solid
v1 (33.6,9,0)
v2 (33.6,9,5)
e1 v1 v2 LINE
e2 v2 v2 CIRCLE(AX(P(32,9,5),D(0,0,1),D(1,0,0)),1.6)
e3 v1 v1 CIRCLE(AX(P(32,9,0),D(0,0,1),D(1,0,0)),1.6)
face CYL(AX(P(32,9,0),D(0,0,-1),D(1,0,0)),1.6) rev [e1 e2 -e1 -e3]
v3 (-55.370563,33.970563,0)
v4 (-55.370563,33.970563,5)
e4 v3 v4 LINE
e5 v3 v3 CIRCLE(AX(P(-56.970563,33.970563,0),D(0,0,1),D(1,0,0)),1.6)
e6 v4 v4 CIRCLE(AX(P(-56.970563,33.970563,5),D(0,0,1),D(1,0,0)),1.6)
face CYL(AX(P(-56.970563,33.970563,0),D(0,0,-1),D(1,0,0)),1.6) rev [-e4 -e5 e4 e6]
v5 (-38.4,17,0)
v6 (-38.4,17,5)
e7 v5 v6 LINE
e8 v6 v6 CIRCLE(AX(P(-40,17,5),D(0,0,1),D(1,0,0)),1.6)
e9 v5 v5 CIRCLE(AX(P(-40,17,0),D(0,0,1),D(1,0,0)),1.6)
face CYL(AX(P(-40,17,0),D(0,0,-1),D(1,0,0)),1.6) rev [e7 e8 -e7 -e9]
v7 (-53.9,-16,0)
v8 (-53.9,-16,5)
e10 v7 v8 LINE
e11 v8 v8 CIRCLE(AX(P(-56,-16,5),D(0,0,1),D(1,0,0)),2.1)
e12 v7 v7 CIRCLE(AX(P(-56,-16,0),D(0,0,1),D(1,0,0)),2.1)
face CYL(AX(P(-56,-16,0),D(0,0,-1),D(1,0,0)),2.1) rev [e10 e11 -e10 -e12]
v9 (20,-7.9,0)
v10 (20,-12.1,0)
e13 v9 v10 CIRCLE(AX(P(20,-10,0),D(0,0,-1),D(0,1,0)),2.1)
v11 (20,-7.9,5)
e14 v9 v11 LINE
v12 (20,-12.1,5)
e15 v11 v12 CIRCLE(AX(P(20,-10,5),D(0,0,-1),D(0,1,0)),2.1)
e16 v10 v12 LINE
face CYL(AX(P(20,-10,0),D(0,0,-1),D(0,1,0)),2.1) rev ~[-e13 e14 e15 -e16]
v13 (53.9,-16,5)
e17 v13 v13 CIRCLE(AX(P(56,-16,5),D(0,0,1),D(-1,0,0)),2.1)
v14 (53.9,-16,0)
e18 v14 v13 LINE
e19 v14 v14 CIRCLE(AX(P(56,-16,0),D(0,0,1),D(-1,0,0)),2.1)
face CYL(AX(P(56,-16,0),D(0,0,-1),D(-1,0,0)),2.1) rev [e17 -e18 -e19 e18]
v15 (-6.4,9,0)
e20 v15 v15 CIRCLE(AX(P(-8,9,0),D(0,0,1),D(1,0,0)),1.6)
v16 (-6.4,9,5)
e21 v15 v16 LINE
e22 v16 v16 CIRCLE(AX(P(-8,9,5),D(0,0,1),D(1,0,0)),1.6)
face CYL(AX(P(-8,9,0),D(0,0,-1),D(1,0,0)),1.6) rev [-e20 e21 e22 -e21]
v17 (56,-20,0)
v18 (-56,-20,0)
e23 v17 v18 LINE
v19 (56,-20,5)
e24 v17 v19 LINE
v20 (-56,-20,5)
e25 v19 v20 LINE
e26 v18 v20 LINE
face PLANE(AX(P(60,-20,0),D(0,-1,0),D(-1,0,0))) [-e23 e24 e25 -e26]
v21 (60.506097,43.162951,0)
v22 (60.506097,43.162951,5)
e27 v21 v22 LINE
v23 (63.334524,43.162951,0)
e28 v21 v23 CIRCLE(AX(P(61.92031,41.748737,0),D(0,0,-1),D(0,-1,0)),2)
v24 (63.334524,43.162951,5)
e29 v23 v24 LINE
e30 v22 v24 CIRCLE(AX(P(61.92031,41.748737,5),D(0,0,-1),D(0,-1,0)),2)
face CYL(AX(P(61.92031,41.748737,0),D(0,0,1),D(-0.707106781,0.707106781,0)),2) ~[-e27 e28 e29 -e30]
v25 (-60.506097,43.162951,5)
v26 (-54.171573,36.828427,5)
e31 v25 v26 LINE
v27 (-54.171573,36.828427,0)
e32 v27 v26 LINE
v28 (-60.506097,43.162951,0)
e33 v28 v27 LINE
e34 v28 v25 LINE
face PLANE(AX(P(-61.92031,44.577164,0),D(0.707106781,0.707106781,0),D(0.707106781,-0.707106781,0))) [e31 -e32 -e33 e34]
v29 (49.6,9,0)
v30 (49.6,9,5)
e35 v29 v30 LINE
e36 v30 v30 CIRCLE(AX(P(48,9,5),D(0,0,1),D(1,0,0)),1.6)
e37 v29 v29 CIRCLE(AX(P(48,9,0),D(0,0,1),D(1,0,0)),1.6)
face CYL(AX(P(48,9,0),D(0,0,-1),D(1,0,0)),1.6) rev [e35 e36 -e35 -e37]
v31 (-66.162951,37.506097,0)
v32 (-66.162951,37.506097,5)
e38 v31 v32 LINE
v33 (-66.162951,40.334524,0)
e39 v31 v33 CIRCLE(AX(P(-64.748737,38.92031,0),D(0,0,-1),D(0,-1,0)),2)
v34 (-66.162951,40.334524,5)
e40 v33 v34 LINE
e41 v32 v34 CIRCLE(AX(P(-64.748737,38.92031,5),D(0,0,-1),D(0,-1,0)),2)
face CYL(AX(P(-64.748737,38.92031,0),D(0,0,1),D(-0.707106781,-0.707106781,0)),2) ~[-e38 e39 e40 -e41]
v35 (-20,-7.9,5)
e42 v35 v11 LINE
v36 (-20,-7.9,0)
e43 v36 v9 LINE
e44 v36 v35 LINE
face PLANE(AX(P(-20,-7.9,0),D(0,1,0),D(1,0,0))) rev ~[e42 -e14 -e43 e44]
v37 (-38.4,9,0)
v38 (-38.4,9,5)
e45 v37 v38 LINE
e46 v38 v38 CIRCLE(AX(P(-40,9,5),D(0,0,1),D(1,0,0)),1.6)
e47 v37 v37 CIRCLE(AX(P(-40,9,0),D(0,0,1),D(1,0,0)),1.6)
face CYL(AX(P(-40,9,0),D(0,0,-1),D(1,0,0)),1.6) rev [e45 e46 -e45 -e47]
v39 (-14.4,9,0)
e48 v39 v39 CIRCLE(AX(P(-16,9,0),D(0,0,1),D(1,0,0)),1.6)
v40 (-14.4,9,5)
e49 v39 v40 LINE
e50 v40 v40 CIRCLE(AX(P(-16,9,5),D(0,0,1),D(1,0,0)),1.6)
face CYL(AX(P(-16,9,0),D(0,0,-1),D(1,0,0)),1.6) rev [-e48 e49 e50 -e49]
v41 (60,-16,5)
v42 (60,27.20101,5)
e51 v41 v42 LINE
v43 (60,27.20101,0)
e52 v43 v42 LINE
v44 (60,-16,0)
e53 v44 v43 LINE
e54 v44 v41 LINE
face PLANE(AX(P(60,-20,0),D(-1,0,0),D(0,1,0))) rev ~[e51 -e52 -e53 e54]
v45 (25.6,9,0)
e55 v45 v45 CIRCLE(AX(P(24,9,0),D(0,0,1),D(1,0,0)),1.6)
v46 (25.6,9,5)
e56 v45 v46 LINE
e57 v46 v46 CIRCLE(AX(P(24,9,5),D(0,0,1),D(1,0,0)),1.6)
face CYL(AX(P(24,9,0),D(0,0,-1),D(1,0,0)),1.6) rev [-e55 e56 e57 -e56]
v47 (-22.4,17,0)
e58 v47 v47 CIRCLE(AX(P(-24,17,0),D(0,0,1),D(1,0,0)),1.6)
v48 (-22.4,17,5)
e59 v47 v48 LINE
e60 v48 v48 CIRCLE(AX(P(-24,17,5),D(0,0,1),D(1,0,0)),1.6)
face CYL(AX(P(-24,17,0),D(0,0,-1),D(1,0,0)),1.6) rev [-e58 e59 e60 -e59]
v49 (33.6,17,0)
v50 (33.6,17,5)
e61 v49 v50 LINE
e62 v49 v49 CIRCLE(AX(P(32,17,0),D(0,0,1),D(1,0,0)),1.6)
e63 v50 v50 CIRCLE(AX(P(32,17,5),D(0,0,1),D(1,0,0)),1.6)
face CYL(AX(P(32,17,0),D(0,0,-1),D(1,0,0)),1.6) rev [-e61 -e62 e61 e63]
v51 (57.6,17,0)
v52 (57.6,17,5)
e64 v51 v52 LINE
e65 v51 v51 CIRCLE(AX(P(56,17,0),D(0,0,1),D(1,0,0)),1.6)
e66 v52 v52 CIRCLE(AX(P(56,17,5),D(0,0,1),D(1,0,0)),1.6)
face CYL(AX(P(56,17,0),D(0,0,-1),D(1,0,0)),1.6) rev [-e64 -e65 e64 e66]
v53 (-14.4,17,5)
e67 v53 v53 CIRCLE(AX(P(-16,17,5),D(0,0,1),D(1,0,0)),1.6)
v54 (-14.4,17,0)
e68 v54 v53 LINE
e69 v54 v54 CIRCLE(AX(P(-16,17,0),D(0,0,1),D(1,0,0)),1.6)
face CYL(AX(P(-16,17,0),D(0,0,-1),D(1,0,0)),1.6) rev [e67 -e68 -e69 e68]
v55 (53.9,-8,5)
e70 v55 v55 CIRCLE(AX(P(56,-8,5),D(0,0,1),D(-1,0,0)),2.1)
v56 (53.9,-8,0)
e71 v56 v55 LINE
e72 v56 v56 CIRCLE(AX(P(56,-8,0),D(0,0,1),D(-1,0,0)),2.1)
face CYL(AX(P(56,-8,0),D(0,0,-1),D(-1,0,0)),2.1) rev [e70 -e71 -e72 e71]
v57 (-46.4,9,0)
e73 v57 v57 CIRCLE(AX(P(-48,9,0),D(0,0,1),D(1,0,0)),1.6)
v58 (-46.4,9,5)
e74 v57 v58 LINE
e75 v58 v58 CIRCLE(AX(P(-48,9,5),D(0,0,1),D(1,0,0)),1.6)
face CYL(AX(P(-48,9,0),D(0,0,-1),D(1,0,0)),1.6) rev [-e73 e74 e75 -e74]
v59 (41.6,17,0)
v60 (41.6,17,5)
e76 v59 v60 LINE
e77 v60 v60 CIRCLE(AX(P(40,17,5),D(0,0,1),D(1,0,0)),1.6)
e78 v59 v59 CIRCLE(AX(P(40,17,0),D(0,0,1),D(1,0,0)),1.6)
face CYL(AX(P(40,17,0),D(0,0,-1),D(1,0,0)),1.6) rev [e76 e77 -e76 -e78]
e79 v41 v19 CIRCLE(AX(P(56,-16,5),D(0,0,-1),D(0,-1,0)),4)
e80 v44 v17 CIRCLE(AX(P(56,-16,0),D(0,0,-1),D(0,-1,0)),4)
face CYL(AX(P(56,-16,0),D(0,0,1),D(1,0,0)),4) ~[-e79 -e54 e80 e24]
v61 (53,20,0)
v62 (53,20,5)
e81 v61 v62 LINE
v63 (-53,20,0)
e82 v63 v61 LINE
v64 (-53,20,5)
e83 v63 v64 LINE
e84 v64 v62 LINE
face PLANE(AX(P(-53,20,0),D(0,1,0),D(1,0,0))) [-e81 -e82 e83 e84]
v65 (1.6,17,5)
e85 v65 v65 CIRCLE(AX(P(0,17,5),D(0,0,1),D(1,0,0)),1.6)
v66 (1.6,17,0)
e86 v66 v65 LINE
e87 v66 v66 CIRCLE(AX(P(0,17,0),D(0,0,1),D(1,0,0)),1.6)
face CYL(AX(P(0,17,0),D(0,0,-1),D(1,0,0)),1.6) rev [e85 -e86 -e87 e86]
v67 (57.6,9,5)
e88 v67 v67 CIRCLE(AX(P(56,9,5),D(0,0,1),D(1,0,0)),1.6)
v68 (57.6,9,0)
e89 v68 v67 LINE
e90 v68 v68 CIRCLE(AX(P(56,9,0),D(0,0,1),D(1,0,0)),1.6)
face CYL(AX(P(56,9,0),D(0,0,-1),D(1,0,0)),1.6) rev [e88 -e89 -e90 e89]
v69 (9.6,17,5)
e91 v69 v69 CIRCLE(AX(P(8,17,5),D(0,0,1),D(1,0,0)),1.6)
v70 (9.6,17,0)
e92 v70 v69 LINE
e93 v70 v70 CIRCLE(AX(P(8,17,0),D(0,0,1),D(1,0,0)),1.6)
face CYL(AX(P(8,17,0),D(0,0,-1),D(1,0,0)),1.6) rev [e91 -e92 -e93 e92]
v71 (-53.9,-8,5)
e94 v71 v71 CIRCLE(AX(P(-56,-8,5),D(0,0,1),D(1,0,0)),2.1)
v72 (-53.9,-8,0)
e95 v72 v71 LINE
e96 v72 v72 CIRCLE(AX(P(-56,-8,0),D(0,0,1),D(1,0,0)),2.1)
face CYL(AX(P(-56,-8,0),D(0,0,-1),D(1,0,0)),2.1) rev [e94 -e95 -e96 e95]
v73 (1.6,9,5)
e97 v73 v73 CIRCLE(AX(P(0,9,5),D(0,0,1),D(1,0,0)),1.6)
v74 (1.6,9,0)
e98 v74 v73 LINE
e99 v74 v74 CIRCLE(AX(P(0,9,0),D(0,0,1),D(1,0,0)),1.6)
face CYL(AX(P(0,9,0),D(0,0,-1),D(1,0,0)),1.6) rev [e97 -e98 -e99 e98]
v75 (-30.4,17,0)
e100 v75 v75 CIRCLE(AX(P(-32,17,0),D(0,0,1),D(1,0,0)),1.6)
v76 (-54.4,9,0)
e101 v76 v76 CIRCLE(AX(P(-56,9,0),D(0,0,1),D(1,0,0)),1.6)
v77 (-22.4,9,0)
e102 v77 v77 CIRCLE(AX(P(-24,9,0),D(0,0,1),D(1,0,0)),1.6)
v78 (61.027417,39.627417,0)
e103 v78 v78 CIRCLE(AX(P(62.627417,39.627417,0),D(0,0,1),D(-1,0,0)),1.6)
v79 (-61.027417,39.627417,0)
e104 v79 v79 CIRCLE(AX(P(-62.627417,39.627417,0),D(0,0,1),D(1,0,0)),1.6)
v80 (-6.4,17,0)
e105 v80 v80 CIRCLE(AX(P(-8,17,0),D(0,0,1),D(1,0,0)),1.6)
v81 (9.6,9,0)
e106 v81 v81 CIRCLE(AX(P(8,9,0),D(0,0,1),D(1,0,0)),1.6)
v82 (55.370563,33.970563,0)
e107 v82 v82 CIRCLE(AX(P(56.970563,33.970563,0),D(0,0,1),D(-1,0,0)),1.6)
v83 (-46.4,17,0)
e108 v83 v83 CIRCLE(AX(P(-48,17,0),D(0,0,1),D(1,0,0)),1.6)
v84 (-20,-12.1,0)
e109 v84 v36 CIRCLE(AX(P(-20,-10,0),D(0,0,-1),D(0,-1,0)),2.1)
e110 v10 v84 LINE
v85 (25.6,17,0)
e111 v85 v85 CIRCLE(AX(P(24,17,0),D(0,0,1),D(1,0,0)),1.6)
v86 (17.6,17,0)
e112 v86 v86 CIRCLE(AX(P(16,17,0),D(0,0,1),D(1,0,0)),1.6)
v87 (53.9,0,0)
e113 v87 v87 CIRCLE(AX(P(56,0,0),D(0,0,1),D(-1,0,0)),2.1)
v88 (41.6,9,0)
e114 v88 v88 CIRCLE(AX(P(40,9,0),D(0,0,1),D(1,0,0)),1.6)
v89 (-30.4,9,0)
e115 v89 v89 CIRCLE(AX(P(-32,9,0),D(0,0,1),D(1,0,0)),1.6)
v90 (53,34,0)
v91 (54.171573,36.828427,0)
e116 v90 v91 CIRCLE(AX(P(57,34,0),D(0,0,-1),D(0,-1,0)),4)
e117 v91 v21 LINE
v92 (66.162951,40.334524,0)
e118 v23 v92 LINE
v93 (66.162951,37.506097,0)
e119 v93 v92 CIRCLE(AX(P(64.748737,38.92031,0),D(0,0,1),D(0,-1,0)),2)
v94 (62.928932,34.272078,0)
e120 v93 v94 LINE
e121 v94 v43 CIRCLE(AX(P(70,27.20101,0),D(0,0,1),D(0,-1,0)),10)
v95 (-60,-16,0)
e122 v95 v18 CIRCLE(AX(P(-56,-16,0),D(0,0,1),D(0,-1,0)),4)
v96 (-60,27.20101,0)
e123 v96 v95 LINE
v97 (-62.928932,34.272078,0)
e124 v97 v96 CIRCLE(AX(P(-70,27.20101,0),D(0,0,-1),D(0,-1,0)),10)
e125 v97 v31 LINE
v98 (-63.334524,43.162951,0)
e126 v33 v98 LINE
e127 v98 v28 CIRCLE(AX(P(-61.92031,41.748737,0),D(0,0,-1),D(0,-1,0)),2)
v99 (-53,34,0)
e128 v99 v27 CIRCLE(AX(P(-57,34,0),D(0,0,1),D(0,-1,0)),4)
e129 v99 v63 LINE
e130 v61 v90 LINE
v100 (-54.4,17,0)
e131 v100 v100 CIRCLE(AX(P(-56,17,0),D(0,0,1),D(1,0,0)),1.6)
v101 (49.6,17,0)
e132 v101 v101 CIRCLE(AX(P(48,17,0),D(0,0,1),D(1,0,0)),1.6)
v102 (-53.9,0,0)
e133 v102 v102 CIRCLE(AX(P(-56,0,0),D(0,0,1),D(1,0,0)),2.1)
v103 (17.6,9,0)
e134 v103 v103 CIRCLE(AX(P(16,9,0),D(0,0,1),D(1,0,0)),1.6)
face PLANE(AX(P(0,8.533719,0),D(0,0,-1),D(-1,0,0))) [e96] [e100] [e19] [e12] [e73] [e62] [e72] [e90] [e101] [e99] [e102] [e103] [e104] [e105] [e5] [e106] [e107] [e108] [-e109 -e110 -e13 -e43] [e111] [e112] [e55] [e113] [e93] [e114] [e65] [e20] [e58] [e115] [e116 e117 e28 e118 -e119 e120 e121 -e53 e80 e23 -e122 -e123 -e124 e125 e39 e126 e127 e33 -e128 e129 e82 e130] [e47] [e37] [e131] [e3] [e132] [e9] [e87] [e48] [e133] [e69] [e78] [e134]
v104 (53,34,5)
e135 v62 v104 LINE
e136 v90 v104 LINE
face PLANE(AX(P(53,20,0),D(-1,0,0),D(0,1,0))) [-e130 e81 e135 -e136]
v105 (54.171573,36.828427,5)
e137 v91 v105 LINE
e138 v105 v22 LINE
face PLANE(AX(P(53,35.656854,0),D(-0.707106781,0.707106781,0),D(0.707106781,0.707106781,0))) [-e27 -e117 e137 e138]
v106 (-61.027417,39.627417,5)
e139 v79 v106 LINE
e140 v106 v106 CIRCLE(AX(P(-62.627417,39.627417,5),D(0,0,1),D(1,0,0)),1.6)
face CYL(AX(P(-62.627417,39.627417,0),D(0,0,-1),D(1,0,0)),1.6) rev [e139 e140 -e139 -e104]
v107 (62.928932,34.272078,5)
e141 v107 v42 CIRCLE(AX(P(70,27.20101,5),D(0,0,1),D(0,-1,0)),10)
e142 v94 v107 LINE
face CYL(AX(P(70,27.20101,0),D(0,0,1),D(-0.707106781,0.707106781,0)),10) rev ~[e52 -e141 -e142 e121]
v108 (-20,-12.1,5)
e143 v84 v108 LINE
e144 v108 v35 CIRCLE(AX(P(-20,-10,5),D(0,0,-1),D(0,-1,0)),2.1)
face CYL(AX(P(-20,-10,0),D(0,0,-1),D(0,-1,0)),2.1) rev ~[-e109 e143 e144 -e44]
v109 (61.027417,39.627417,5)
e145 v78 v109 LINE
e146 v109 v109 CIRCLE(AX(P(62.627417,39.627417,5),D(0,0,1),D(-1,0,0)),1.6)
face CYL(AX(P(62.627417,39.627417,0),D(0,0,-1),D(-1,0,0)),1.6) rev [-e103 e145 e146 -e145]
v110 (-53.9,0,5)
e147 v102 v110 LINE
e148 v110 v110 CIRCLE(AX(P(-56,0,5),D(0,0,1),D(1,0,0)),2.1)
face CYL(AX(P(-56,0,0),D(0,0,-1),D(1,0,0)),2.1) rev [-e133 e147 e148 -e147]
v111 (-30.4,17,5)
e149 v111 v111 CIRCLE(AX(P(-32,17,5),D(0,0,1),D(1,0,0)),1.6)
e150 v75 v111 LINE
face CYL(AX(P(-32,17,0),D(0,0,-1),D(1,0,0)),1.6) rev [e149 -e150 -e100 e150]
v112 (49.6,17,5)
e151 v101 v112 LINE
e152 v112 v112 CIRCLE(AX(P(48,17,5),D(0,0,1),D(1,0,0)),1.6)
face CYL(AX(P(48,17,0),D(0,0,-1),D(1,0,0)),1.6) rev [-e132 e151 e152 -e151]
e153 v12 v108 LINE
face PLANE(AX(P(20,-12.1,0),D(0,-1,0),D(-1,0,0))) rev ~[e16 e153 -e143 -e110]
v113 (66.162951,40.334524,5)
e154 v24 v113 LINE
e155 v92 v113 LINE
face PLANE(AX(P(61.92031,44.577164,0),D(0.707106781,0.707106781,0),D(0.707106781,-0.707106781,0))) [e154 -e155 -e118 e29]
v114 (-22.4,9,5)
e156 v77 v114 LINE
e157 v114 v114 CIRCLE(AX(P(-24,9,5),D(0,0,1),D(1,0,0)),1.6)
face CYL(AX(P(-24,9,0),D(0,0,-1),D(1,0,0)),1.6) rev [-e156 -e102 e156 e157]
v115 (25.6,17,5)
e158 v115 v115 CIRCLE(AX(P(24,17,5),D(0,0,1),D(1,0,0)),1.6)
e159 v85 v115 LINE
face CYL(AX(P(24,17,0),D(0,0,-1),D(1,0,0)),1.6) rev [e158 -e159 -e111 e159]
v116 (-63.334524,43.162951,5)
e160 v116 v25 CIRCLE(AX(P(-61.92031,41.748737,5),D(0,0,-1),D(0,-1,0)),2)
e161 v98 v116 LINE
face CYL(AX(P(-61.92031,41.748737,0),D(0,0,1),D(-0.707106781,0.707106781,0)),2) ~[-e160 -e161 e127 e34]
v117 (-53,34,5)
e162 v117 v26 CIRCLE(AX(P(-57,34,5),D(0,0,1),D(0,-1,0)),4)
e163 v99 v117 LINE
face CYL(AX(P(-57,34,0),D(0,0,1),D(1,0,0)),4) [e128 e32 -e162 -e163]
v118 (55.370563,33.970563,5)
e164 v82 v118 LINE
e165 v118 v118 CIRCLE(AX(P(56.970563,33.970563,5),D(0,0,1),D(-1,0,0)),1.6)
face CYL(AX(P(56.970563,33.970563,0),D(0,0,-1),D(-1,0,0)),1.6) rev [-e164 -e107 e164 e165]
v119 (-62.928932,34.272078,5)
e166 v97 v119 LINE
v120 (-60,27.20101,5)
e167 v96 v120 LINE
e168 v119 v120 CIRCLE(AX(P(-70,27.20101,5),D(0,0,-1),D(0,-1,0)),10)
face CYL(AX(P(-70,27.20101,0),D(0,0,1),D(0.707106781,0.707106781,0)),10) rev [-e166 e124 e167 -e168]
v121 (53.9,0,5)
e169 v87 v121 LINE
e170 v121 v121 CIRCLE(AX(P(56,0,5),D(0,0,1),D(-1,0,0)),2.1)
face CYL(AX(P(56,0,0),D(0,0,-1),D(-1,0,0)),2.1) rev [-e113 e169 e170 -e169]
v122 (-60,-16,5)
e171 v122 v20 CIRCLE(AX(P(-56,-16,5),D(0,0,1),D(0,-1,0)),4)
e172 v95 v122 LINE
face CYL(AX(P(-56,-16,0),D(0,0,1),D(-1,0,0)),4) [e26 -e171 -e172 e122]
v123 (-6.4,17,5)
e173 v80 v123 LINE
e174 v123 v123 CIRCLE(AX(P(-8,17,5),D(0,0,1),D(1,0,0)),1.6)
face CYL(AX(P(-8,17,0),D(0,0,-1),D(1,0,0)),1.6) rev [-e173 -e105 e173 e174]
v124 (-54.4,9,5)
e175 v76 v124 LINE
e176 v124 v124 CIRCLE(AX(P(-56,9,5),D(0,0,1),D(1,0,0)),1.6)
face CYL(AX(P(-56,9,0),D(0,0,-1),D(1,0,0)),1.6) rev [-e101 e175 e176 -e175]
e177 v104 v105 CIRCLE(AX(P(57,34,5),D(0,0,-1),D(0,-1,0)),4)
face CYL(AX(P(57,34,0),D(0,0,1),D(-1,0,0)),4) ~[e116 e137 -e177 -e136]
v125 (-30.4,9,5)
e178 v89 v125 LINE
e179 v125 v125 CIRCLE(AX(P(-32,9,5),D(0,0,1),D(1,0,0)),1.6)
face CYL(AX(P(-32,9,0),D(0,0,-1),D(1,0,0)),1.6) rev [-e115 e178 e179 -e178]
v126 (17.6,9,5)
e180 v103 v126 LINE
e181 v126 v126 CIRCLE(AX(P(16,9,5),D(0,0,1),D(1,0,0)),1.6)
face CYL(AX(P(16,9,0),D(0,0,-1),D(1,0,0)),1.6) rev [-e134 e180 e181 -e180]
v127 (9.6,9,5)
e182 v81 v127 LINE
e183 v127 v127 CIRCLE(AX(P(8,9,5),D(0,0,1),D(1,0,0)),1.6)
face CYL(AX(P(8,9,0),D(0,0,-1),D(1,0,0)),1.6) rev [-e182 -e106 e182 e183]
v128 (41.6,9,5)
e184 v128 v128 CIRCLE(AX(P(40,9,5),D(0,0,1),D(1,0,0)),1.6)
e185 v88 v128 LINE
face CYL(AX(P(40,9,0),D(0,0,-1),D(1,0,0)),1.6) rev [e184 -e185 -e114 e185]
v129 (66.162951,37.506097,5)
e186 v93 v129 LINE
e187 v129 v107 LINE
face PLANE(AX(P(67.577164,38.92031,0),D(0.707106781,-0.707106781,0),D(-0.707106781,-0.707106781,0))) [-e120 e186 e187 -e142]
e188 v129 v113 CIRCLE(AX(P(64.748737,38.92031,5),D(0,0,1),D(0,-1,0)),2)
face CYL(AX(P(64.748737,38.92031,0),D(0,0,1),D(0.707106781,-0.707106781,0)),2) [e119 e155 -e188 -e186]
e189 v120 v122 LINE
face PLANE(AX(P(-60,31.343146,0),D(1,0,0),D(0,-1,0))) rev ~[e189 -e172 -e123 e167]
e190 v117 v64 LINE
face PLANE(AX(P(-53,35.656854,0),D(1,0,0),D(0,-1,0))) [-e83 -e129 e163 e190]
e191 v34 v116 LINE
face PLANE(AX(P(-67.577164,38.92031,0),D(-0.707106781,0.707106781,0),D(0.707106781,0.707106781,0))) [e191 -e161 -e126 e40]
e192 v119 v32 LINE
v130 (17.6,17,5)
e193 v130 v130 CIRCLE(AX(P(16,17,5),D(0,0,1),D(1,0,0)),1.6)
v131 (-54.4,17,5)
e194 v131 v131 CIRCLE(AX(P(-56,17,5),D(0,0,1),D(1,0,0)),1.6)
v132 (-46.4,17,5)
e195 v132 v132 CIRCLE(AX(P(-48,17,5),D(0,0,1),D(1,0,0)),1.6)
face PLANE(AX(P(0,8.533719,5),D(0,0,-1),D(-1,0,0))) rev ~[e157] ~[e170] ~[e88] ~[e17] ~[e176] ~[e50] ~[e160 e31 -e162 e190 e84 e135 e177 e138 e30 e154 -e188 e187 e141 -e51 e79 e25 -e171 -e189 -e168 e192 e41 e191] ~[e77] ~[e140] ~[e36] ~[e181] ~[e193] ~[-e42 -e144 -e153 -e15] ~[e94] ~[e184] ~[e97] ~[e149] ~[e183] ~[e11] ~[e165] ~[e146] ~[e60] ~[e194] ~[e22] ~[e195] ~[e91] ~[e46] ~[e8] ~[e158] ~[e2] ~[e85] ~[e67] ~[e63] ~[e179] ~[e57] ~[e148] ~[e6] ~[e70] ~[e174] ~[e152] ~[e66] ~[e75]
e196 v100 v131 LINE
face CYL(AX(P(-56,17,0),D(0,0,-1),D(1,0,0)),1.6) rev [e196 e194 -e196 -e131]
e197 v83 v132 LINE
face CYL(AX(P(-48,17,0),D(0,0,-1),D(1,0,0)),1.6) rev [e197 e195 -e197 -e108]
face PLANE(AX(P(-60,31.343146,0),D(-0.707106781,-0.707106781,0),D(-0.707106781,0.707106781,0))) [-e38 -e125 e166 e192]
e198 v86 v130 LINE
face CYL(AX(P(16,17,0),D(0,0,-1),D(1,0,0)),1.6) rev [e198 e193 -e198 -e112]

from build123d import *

# Parameters (mm, degrees)
SKETCH_2_R      = 1.6
SKETCH_2_R_2    = 2.1
EXTRUDE_3_DEPTH = 5
FILLET_1_R      = 4
FILLET_2_R      = 10
FILLET_3_R      = 2


with BuildPart() as part:
    # 草图2 → 凸台-拉伸3 (new body)
    with BuildSketch(Plane.XY):
        Polygon((-53, 20), (53, 20), (53, 35.656854249), (61.920310217, 44.577164466), (67.577164466, 38.920310217), (60, 31.34314575), (60, 20), (60, -20), (-60, -20), (-60, 20), (-60, 31.34314575), (-67.577164466, 38.920310217), (-61.920310217, 44.577164466), (-53, 35.656854249), align=None)
        with Locations((-56, 17)):
            Circle(SKETCH_2_R, mode=Mode.SUBTRACT)
        with Locations((-48, 17)):
            Circle(SKETCH_2_R, mode=Mode.SUBTRACT)
        with Locations((-40, 17)):
            Circle(SKETCH_2_R, mode=Mode.SUBTRACT)
        with Locations((-32, 17)):
            Circle(SKETCH_2_R, mode=Mode.SUBTRACT)
        with Locations((-24, 17)):
            Circle(SKETCH_2_R, mode=Mode.SUBTRACT)
        with Locations((-16, 17)):
            Circle(SKETCH_2_R, mode=Mode.SUBTRACT)
        with Locations((-8, 17)):
            Circle(SKETCH_2_R, mode=Mode.SUBTRACT)
        with Locations((0, 17)):
            Circle(SKETCH_2_R, mode=Mode.SUBTRACT)
        with Locations((8, 17)):
            Circle(SKETCH_2_R, mode=Mode.SUBTRACT)
        with Locations((16, 17)):
            Circle(SKETCH_2_R, mode=Mode.SUBTRACT)
        with Locations((24, 17)):
            Circle(SKETCH_2_R, mode=Mode.SUBTRACT)
        with Locations((32, 17)):
            Circle(SKETCH_2_R, mode=Mode.SUBTRACT)
        with Locations((40, 17)):
            Circle(SKETCH_2_R, mode=Mode.SUBTRACT)
        with Locations((48, 17)):
            Circle(SKETCH_2_R, mode=Mode.SUBTRACT)
        with Locations((56, 17)):
            Circle(SKETCH_2_R, mode=Mode.SUBTRACT)
        with Locations((-62.627416998, 39.627416998)):
            Circle(SKETCH_2_R, mode=Mode.SUBTRACT)
        with Locations(Location((62.627416998, 39.627416998, 0), (0, 0, 180))):
            Circle(SKETCH_2_R, mode=Mode.SUBTRACT)
        with Locations((-56, 9)):
            Circle(SKETCH_2_R, mode=Mode.SUBTRACT)
        with Locations((-48, 9)):
            Circle(SKETCH_2_R, mode=Mode.SUBTRACT)
        with Locations((-40, 9)):
            Circle(SKETCH_2_R, mode=Mode.SUBTRACT)
        with Locations((-32, 9)):
            Circle(SKETCH_2_R, mode=Mode.SUBTRACT)
        with Locations((-24, 9)):
            Circle(SKETCH_2_R, mode=Mode.SUBTRACT)
        with Locations((-16, 9)):
            Circle(SKETCH_2_R, mode=Mode.SUBTRACT)
        with Locations((-8, 9)):
            Circle(SKETCH_2_R, mode=Mode.SUBTRACT)
        with Locations((0, 9)):
            Circle(SKETCH_2_R, mode=Mode.SUBTRACT)
        with Locations((8, 9)):
            Circle(SKETCH_2_R, mode=Mode.SUBTRACT)
        with Locations((16, 9)):
            Circle(SKETCH_2_R, mode=Mode.SUBTRACT)
        with Locations((24, 9)):
            Circle(SKETCH_2_R, mode=Mode.SUBTRACT)
        with Locations((32, 9)):
            Circle(SKETCH_2_R, mode=Mode.SUBTRACT)
        with Locations((40, 9)):
            Circle(SKETCH_2_R, mode=Mode.SUBTRACT)
        with Locations((48, 9)):
            Circle(SKETCH_2_R, mode=Mode.SUBTRACT)
        with Locations((56, 9)):
            Circle(SKETCH_2_R, mode=Mode.SUBTRACT)
        with Locations((-56, -16)):
            Circle(SKETCH_2_R_2, mode=Mode.SUBTRACT)
        with Locations((-56, -8)):
            Circle(SKETCH_2_R_2, mode=Mode.SUBTRACT)
        with Locations((-56, 0)):
            Circle(SKETCH_2_R_2, mode=Mode.SUBTRACT)
        with Locations(Location((56, -16, 0), (0, 0, 180))):
            Circle(SKETCH_2_R_2, mode=Mode.SUBTRACT)
        with Locations(Location((56, -8, 0), (0, 0, 180))):
            Circle(SKETCH_2_R_2, mode=Mode.SUBTRACT)
        with Locations(Location((56, 0, 0), (0, 0, 180))):
            Circle(SKETCH_2_R_2, mode=Mode.SUBTRACT)
        with Locations((-56.970562748, 33.970562748)):
            Circle(SKETCH_2_R, mode=Mode.SUBTRACT)
        with Locations(Location((56.970562748, 33.970562748, 0), (0, 0, 180))):
            Circle(SKETCH_2_R, mode=Mode.SUBTRACT)
        with BuildLine():
            Line((-20, -7.9), (20, -7.9))
            ThreePointArc((20, -7.9), (22.1, -10), (20, -12.1))
            Line((20, -12.1), (-20, -12.1))
            ThreePointArc((-20, -12.1), (-22.1, -10), (-20, -7.9))
        make_face(mode=Mode.SUBTRACT)
    extrude(amount=EXTRUDE_3_DEPTH)

    # 圆角1
    fillet_1_edges = [part.edges().sort_by_distance(p)[0] for p in [
        (60, -20, 2.5),
        (-60, -20, 2.5),
        (-53, 35.656854249, 2.5),
        (53, 35.656854249, 2.5),
    ]]
    fillet(fillet_1_edges, radius=FILLET_1_R)

    # 圆角2
    fillet_2_edges = [part.edges().sort_by_distance(p)[0] for p in [
        (-60, 31.34314575, 2.5),
        (60, 31.34314575, 2.5),
    ]]
    fillet(fillet_2_edges, radius=FILLET_2_R)

    # 圆角3
    fillet_3_edges = [part.edges().sort_by_distance(p)[0] for p in [
        (-67.577164466, 38.920310217, 2.5),
        (-61.920310217, 44.577164466, 2.5),
        (61.920310217, 44.577164466, 2.5),
        (67.577164466, 38.920310217, 2.5),
    ]]
    fillet(fillet_3_edges, radius=FILLET_3_R)


solid = part.part
